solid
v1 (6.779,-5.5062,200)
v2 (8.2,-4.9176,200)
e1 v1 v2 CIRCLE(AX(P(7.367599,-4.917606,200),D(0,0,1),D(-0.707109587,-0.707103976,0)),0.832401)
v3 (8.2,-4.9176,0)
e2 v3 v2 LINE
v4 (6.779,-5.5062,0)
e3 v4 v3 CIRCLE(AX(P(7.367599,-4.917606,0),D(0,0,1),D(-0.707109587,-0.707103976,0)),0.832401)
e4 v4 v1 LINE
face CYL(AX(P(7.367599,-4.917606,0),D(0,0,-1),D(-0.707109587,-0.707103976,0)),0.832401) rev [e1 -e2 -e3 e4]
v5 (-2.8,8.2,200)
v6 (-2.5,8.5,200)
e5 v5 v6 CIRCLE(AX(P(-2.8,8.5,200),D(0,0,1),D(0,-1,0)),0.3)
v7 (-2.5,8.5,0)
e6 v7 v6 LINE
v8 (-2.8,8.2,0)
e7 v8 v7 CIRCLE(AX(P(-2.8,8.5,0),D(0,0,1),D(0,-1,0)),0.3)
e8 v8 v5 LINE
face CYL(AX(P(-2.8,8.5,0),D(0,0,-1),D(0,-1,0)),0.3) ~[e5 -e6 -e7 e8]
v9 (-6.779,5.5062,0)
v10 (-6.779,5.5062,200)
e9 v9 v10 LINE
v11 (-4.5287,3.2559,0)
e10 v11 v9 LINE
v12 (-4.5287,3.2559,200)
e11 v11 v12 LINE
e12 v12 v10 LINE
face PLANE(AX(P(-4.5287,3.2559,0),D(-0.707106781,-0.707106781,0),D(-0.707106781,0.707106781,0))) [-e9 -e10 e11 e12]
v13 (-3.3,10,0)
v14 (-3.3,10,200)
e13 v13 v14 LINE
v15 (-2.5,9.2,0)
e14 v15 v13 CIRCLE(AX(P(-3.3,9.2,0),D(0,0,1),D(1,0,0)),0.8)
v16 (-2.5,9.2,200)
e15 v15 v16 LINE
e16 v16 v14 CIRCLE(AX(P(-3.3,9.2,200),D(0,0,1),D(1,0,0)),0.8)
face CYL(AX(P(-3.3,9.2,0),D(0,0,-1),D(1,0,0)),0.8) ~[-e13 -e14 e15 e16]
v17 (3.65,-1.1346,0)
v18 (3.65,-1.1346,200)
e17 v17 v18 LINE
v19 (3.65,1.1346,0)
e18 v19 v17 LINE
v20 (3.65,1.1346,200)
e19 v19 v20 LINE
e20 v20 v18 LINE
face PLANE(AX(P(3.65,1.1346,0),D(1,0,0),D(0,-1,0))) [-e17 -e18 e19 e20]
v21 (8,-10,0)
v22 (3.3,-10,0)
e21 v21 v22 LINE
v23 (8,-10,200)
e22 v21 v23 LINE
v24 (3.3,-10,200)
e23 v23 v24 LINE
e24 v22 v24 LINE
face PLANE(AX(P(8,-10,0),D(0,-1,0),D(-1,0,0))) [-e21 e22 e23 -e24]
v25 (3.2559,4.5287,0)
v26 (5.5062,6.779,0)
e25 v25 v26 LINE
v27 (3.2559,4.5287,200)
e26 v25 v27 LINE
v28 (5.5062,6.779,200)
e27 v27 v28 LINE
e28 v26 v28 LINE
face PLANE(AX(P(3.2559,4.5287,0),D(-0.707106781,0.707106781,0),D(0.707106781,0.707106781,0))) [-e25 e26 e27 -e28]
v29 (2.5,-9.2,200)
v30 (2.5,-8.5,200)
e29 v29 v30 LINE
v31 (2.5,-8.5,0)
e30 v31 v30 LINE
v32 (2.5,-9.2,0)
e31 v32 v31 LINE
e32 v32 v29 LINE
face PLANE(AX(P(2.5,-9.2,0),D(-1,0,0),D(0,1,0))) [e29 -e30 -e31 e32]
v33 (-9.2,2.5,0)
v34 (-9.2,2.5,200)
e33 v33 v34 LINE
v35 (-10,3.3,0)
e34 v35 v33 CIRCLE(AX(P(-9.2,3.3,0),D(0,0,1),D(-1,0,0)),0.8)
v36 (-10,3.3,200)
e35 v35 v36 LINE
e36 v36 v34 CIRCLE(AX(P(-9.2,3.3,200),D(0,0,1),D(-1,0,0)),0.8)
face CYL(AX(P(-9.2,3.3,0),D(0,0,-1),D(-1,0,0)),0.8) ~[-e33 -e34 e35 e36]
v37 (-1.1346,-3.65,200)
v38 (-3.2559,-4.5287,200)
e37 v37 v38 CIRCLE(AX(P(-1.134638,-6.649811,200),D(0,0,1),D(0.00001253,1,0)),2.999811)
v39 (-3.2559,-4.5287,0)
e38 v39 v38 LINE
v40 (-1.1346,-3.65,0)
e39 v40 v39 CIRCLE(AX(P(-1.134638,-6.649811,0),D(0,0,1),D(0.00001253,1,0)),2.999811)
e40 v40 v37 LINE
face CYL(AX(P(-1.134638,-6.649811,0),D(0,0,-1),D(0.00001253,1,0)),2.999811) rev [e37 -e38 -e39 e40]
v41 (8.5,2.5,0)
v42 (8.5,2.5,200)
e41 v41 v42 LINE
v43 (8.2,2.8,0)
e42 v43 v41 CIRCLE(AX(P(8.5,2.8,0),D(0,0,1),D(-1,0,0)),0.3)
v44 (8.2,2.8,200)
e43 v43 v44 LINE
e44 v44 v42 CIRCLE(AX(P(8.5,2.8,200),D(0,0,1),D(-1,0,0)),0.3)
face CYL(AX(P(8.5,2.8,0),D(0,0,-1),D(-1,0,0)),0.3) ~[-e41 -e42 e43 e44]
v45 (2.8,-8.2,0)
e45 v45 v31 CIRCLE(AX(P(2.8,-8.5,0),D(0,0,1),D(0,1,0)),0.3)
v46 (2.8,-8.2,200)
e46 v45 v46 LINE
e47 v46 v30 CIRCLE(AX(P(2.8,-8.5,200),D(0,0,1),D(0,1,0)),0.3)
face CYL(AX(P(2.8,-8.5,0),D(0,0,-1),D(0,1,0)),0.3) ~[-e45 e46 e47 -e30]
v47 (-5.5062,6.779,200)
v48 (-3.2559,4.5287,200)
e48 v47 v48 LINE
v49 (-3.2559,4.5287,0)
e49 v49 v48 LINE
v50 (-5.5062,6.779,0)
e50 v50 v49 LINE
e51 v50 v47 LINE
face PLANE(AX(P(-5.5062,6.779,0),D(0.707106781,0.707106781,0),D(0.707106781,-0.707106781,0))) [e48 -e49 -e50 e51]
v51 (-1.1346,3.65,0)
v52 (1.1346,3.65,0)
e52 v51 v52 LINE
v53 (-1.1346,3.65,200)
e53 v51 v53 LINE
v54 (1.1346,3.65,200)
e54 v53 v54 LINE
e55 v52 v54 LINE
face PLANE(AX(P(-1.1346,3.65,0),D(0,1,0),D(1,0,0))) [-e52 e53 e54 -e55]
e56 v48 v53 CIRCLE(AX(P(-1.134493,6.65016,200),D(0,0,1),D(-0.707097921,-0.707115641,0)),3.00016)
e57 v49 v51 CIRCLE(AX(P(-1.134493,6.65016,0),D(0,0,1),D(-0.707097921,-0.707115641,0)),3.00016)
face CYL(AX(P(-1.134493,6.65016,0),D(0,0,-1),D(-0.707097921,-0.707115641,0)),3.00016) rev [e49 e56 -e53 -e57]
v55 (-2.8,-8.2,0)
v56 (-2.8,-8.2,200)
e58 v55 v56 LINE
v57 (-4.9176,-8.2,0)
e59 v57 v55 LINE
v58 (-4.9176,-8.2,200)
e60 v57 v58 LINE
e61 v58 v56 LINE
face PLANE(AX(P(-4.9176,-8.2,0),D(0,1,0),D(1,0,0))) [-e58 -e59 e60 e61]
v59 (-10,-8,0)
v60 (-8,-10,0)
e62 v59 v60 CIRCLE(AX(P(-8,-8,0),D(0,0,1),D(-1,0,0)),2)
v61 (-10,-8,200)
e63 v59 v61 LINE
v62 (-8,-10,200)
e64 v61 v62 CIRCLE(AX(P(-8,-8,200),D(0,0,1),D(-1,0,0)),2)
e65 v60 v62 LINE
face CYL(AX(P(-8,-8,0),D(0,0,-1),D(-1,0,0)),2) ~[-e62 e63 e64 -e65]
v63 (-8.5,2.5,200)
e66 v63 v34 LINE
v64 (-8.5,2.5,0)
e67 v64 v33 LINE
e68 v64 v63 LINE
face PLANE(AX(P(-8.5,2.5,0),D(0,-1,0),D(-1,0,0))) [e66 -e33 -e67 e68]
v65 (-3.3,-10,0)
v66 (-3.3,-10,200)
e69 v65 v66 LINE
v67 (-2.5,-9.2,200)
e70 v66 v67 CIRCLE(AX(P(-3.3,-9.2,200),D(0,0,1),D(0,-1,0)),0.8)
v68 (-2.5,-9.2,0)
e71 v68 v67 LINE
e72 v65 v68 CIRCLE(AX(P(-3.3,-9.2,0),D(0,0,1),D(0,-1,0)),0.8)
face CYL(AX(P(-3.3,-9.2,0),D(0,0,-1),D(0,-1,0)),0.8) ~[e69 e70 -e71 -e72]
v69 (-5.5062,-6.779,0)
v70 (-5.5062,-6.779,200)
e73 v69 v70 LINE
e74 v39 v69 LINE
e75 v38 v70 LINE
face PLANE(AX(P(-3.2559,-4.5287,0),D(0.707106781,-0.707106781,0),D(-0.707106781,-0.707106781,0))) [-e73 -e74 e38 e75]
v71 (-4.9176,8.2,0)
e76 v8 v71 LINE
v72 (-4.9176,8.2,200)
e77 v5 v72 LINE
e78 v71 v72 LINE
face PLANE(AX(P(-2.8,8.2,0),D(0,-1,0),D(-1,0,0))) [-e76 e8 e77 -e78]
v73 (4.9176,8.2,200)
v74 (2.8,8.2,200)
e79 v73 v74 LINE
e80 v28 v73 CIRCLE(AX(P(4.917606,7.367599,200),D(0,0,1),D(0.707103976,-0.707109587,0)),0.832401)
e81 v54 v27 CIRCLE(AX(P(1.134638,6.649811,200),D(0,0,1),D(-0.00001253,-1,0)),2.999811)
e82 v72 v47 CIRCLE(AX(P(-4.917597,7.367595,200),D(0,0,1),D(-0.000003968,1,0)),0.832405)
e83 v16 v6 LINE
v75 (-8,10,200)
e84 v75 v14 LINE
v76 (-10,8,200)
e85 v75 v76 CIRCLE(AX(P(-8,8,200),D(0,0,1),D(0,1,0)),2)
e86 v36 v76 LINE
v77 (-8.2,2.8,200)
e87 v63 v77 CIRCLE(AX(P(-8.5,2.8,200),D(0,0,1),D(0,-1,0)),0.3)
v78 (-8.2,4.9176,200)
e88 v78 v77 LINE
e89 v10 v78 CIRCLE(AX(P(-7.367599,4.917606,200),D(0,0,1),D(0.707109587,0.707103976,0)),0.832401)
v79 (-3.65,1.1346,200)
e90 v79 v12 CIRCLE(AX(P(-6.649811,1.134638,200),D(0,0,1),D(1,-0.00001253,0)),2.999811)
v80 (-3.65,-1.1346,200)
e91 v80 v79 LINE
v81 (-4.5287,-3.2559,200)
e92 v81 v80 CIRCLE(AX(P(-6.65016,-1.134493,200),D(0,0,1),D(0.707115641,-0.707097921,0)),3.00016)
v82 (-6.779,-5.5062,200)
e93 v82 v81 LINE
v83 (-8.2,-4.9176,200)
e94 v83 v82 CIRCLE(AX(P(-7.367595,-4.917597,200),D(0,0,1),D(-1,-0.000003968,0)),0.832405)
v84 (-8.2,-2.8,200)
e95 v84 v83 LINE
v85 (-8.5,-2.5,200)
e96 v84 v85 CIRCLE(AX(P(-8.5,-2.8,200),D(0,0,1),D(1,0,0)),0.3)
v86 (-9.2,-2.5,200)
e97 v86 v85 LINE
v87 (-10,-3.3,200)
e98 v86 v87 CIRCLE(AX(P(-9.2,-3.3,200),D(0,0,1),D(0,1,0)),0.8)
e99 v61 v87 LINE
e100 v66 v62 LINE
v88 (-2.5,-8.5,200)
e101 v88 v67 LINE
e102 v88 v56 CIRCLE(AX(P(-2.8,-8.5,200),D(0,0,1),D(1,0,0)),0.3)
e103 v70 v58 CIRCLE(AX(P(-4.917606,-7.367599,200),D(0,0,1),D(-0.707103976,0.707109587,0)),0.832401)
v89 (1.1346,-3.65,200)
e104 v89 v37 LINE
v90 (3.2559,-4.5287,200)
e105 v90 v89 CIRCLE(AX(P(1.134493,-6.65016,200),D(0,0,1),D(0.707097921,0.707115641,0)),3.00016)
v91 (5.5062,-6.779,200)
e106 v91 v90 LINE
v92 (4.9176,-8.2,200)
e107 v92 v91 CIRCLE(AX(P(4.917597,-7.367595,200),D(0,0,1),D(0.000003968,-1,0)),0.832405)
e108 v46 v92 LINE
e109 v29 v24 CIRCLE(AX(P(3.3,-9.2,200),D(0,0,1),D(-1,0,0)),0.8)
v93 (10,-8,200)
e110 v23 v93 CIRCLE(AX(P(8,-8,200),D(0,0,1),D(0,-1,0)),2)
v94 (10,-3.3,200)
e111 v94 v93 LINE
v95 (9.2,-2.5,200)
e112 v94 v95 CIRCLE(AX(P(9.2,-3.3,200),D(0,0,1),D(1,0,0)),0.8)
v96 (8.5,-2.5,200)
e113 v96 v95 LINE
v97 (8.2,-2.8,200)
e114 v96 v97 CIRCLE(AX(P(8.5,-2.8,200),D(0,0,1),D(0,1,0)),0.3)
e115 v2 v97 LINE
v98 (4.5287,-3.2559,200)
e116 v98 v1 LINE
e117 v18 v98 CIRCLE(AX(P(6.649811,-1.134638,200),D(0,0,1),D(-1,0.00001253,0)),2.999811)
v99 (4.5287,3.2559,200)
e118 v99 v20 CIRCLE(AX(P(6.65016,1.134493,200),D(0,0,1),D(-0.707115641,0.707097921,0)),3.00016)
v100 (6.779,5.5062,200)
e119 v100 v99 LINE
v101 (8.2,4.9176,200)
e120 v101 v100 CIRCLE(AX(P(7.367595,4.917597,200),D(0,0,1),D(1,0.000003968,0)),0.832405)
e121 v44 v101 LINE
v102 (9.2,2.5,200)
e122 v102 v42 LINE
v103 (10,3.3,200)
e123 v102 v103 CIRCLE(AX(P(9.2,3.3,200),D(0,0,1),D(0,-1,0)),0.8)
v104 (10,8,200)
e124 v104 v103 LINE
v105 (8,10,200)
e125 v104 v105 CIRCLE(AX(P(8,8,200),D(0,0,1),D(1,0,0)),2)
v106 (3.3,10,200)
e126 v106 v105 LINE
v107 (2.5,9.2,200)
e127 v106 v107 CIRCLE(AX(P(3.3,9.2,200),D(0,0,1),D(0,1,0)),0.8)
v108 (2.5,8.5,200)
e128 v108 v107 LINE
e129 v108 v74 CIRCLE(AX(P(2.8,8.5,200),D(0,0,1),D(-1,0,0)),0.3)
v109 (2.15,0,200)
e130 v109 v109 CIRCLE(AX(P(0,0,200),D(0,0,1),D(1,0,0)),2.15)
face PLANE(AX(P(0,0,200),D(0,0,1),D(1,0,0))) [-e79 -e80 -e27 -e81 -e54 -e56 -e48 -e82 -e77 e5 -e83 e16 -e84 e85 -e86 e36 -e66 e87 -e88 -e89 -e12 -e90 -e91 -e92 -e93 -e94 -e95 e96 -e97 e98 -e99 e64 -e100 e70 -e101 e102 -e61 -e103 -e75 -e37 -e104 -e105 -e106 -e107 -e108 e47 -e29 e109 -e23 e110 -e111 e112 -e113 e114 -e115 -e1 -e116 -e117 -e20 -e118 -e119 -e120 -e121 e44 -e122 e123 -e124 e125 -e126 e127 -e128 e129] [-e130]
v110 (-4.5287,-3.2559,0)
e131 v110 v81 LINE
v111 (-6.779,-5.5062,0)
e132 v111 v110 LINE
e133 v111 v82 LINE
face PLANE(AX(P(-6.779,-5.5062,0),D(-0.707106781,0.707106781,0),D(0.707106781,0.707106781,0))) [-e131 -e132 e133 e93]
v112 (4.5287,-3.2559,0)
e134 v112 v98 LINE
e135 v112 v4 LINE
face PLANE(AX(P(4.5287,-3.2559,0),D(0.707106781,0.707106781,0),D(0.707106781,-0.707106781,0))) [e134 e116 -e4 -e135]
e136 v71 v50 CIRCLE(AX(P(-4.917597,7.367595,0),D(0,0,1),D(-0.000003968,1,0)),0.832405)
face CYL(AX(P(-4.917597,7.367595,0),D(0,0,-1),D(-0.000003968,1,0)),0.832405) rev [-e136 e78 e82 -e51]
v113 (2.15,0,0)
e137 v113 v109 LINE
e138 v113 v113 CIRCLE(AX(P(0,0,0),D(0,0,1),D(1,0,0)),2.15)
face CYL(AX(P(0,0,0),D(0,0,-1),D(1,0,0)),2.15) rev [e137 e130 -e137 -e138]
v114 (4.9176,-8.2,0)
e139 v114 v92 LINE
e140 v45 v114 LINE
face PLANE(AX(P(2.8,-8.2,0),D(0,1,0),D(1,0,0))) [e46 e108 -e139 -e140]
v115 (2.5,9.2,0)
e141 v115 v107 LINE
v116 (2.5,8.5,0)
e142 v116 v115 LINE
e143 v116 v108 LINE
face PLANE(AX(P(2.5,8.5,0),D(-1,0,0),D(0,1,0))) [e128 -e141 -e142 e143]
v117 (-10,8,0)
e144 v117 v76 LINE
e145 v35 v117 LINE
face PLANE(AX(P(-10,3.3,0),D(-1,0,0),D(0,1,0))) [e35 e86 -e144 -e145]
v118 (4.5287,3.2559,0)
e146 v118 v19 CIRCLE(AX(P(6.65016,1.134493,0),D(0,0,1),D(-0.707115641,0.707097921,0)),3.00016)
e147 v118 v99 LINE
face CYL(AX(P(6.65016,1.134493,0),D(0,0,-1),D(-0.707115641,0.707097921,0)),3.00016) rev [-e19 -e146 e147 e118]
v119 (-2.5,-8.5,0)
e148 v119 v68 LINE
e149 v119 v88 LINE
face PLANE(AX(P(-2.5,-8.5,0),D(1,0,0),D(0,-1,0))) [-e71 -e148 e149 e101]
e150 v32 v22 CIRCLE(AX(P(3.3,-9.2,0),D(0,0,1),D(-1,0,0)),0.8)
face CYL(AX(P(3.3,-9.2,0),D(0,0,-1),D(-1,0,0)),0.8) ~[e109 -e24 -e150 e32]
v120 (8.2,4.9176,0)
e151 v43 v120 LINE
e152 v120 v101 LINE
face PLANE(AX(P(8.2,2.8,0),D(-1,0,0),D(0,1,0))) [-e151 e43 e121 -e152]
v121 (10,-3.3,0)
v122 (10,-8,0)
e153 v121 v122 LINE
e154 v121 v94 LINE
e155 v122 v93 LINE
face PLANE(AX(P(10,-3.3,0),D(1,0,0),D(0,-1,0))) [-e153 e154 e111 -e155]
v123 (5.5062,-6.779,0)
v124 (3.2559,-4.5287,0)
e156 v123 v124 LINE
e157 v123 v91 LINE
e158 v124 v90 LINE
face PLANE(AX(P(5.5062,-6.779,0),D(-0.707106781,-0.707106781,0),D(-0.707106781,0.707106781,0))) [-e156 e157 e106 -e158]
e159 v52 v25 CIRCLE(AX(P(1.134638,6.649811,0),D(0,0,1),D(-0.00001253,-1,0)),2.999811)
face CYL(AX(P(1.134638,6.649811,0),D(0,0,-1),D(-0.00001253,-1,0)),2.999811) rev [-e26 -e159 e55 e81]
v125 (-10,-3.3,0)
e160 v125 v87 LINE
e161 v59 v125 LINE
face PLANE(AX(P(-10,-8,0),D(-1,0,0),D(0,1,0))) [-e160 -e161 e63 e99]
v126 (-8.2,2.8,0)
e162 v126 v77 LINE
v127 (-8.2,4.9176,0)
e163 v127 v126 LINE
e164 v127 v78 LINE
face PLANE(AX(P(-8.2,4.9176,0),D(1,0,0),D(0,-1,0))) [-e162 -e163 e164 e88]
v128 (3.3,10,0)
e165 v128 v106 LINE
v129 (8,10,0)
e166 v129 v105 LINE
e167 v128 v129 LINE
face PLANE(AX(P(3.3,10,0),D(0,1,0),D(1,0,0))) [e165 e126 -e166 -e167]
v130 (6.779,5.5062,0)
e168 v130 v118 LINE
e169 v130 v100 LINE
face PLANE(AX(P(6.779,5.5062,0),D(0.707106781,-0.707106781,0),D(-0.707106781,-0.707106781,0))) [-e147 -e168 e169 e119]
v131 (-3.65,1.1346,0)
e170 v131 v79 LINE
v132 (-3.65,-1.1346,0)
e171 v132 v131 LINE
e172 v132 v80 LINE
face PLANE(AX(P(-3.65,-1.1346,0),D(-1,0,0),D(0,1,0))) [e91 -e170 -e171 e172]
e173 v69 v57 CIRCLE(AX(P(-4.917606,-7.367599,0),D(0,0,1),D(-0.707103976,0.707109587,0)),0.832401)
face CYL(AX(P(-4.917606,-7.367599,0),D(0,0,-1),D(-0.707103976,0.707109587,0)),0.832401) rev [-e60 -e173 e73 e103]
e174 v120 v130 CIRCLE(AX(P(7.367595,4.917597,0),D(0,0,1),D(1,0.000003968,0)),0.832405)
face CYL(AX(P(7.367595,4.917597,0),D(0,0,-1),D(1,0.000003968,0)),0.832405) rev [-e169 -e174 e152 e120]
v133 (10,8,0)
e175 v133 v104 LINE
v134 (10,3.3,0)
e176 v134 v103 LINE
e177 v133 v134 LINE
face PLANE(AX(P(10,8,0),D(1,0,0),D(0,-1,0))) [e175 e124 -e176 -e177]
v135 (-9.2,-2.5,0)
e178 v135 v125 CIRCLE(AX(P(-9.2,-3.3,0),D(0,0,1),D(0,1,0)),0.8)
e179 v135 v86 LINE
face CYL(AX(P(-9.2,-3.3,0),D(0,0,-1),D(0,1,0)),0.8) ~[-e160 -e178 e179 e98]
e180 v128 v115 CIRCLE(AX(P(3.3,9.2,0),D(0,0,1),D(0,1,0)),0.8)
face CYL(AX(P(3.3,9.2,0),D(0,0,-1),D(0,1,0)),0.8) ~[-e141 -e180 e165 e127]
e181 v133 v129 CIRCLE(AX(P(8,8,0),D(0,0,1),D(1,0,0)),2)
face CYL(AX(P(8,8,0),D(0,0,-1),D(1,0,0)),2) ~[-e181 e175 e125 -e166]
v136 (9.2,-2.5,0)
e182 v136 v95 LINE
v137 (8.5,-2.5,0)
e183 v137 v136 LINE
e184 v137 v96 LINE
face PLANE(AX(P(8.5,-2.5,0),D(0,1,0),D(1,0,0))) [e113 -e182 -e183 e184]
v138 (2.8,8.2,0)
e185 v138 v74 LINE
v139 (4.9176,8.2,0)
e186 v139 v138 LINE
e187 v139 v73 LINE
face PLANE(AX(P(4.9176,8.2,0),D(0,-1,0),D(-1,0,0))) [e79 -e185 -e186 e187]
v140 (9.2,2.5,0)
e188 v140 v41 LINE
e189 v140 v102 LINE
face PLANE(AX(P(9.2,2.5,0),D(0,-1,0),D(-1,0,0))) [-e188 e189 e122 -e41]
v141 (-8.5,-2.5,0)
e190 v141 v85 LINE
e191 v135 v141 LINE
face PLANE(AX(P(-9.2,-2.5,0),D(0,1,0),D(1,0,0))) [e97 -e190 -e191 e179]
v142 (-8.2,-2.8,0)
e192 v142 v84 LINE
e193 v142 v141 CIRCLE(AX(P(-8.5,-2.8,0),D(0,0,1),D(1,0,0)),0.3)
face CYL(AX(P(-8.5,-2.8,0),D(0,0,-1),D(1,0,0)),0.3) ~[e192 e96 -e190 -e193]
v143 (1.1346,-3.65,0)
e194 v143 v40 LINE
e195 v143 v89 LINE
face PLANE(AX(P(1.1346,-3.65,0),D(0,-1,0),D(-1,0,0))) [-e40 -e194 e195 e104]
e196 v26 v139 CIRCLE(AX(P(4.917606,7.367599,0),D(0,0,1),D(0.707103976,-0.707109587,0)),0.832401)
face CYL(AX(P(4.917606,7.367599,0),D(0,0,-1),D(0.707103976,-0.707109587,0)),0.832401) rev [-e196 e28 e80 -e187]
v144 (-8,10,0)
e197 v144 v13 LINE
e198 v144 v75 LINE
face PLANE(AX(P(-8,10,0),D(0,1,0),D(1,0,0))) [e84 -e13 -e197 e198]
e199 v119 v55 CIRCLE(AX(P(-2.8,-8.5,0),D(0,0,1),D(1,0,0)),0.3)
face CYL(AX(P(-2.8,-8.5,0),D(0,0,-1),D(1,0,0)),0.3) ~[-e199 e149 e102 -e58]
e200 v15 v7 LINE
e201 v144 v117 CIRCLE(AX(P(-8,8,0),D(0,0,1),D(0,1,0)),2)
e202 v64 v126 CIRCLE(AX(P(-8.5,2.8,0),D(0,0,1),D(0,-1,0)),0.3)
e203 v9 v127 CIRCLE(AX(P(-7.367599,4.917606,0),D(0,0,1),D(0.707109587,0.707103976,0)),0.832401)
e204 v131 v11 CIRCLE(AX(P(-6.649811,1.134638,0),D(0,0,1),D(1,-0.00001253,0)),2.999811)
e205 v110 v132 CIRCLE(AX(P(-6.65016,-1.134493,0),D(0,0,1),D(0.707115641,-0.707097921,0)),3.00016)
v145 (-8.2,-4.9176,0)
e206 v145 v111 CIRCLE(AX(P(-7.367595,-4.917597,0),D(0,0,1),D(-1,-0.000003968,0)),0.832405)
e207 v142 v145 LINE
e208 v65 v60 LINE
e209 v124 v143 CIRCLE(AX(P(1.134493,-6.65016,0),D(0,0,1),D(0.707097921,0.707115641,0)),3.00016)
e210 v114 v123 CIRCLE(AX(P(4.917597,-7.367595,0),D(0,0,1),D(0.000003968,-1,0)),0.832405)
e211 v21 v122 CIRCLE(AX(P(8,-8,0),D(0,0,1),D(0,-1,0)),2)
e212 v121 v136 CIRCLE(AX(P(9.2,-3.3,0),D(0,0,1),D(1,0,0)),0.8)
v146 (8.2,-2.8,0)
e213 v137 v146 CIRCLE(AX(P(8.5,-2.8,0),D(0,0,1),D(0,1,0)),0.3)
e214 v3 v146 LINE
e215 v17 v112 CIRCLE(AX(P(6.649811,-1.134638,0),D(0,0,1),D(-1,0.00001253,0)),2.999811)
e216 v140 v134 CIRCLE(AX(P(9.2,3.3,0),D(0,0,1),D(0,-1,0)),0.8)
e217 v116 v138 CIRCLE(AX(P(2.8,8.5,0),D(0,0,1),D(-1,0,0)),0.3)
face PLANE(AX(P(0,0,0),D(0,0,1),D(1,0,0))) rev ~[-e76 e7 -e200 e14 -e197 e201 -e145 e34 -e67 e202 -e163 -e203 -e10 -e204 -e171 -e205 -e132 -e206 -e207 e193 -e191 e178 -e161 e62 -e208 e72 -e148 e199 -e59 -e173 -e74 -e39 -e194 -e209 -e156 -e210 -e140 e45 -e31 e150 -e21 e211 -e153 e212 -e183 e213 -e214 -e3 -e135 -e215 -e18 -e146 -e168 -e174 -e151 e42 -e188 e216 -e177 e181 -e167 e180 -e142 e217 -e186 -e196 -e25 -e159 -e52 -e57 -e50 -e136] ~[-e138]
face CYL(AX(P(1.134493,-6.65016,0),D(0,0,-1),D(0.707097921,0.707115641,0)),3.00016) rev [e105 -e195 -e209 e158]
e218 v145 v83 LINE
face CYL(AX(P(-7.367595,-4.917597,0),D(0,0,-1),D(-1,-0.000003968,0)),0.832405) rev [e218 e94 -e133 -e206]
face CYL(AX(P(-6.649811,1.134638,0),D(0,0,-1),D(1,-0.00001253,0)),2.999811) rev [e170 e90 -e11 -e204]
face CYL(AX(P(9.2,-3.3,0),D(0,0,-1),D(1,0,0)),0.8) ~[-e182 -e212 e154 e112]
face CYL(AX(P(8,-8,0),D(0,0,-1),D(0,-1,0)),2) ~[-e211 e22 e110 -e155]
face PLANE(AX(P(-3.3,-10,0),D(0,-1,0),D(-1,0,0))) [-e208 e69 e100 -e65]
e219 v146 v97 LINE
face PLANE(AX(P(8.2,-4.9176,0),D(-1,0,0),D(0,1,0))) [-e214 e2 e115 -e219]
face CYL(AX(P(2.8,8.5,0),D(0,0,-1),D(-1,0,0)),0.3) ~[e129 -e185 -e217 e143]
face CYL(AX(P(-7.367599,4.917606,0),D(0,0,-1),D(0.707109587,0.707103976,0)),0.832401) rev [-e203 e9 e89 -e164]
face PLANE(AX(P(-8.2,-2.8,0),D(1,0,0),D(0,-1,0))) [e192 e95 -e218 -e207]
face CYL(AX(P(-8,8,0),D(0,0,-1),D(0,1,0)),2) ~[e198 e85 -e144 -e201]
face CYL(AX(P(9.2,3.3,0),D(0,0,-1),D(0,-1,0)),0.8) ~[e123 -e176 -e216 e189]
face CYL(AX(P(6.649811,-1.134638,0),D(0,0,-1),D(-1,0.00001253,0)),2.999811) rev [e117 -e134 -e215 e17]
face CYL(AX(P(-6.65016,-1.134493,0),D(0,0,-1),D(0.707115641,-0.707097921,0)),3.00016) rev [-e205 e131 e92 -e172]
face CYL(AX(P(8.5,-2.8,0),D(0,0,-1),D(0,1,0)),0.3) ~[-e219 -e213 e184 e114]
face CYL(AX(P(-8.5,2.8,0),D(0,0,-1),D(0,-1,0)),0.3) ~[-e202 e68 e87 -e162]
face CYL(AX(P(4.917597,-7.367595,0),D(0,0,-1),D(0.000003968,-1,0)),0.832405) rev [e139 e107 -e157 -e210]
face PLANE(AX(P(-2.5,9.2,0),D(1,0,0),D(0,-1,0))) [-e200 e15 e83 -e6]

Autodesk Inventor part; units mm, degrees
ref_plane "YZ Plane" through (0, 0, 0) normal (1, 0, 0) x (0, 1, 0)
ref_plane "Startebene" through (0, 0, 0) normal (0, 0, 1) x (1, 0, 0)
ref_plane "Endebene" through (0, 0, 200) normal (0, 0, 1) x (1, 0, 0)
sketch "Skizze" plane through (0, 0, 0) normal (0, 0, 1) x (1, 0, 0)
  arc A0 (-4.5287, -3.2559) -> (-3.65, -1.1346) centre (-6.65, -1.1346) ccw
  line L0 (-3.65, -1.1346) -> (-3.65, 1.1346)
  circle A1 centre (0, 0) radius 2.15
  line L1 (1.1346, -3.65) -> (-1.1346, -3.65)
  arc A2 (-1.1346, -3.65) -> (-3.2559, -4.5287) centre (-1.1346, -6.65) ccw
  line L2 (-6.779, -5.5062) -> (-4.5287, -3.2559)
  line L3 (-3.2559, -4.5287) -> (-5.5062, -6.779)
  arc A3 (-2.5, -8.5) -> (-2.8, -8.2) centre (-2.8, -8.5) ccw
  line L4 (-2.5, -8.5) -> (-2.5, -9.2)
  line L5 (-4.9176, -8.2) -> (-2.8, -8.2)
  arc A4 (-5.5062, -6.779) -> (-4.9176, -8.2) centre (-4.9176, -7.3676) ccw
  arc A5 (-3.3, -10) -> (-2.5, -9.2) centre (-3.3, -9.2) ccw
  line L6 (-3.3, -10) -> (-8, -10)
  line L7 (10, -3.3) -> (10, -8)
  line L8 (5.5062, -6.779) -> (3.2559, -4.5287)
  arc A6 (6.779, -5.5062) -> (8.2, -4.9176) centre (7.3676, -4.9176) ccw
  arc A7 (3.2559, -4.5287) -> (1.1346, -3.65) centre (1.1346, -6.65) ccw
  line L9 (4.5287, -3.2559) -> (6.779, -5.5062)
  arc A8 (3.65, -1.1346) -> (4.5287, -3.2559) centre (6.65, -1.1346) ccw
  arc A9 (8.5, -2.5) -> (8.2, -2.8) centre (8.5, -2.8) ccw
  line L10 (3.65, 1.1346) -> (3.65, -1.1346)
  line L11 (8.5, -2.5) -> (9.2, -2.5)
  arc A10 (10, -3.3) -> (9.2, -2.5) centre (9.2, -3.3) ccw
  line L12 (8.2, -4.9176) -> (8.2, -2.8)
  line L13 (2.5, 8.5) -> (2.5, 9.2)
  arc A11 (2.5, 8.5) -> (2.8, 8.2) centre (2.8, 8.5) ccw
  arc A12 (1.1346, 3.65) -> (3.2559, 4.5287) centre (1.1346, 6.65) ccw
  line L14 (-1.1346, 3.65) -> (1.1346, 3.65)
  arc A13 (3.3, 10) -> (2.5, 9.2) centre (3.3, 9.2) ccw
  line L15 (4.9176, 8.2) -> (2.8, 8.2)
  arc A14 (4.5287, 3.2559) -> (3.65, 1.1346) centre (6.65, 1.1346) ccw
  line L16 (3.2559, 4.5287) -> (5.5062, 6.779)
  arc A15 (5.5062, 6.779) -> (4.9176, 8.2) centre (4.9176, 7.3676) ccw
  line L17 (6.779, 5.5062) -> (4.5287, 3.2559)
  line L18 (3.3, 10) -> (8, 10)
  arc A16 (10, 8) -> (8, 10) centre (8, 8) ccw
  line L19 (8.2, 2.8) -> (8.2, 4.9176)
  line L20 (10, 8) -> (10, 3.3)
  arc A17 (8.2, 4.9176) -> (6.779, 5.5062) centre (7.3676, 4.9176) ccw
  line L21 (-2.8, 8.2) -> (-4.9176, 8.2)
  line L22 (-2.5, 9.2) -> (-2.5, 8.5)
  arc A18 (-2.5, 9.2) -> (-3.3, 10) centre (-3.3, 9.2) ccw
  arc A19 (-2.8, 8.2) -> (-2.5, 8.5) centre (-2.8, 8.5) ccw
  arc A20 (-3.65, 1.1346) -> (-4.5287, 3.2559) centre (-6.65, 1.1346) ccw
  arc A21 (-3.2559, 4.5287) -> (-1.1346, 3.65) centre (-1.1346, 6.65) ccw
  arc A22 (4.9176, -8.2) -> (5.5062, -6.779) centre (4.9176, -7.3676) ccw
  arc A23 (8, -10) -> (10, -8) centre (8, -8) ccw
  line L23 (2.8, -8.2) -> (4.9176, -8.2)
  line L24 (8, -10) -> (3.3, -10)
  arc A24 (2.8, -8.2) -> (2.5, -8.5) centre (2.8, -8.5) ccw
  arc A25 (2.5, -9.2) -> (3.3, -10) centre (3.3, -9.2) ccw
  line L25 (2.5, -9.2) -> (2.5, -8.5)
  arc A26 (8.2, 2.8) -> (8.5, 2.5) centre (8.5, 2.8) ccw
  line L26 (9.2, 2.5) -> (8.5, 2.5)
  arc A27 (9.2, 2.5) -> (10, 3.3) centre (9.2, 3.3) ccw
  arc A28 (-4.9176, 8.2) -> (-5.5062, 6.779) centre (-4.9176, 7.3676) ccw
  line L27 (-8, 10) -> (-3.3, 10)
  line L28 (-5.5062, 6.779) -> (-3.2559, 4.5287)
  arc A29 (-8, 10) -> (-10, 8) centre (-8, 8) ccw
  arc A30 (-6.779, 5.5062) -> (-8.2, 4.9176) centre (-7.3676, 4.9176) ccw
  line L29 (-10, 3.3) -> (-10, 8)
  line L30 (-8.2, 4.9176) -> (-8.2, 2.8)
  arc A31 (-8.5, 2.5) -> (-8.2, 2.8) centre (-8.5, 2.8) ccw
  line L31 (-8.5, 2.5) -> (-9.2, 2.5)
  arc A32 (-10, 3.3) -> (-9.2, 2.5) centre (-9.2, 3.3) ccw
  line L32 (-4.5287, 3.2559) -> (-6.779, 5.5062)
  line L33 (-10, -8) -> (-10, -3.3)
  arc A33 (-8.2, -4.9176) -> (-6.779, -5.5062) centre (-7.3676, -4.9176) ccw
  arc A34 (-10, -8) -> (-8, -10) centre (-8, -8) ccw
  line L34 (-10, -8) -> (-10, -3.3)
  arc A35 (-8.2, -2.8) -> (-8.5, -2.5) centre (-8.5, -2.8) ccw
  line L35 (-9.2, -2.5) -> (-8.5, -2.5)
  arc A36 (-9.2, -2.5) -> (-10, -3.3) centre (-9.2, -3.3) ccw
  line L36 (-8.2, -2.8) -> (-8.2, -4.9176)
  dimension "d4" = 4.3
  dimension "d5" = 6.35
  dimension "d6" = 10
  dimension "d7" = 2.5
  dimension "d8" = 5.8
  dimension "d9" = 10.5
  dimension "d10" = 3
  dimension "d11" = 7.5
  dimension "d12" = 12.5
  dimension "d13" = 13.65
  dimension "d14" = 5.7
  dimension "d15" = 10.7
  dimension "d16" = 1.15
  dimension "d17" = 6.15
  dimension "d18" = 1.8
  dimension "d19" = 0.8
  dimension "d20" = 0.3
  dimension "d21" = 2
  dimension "d22" = 0.8324
  dimension "d23" = 45
  dimension "d24" = 90
  dimension "d25" = 90
  dimension "d26" = 1.8
  dimension "d27" = 18.2
  dimension "d28" = 20
  dimension "d29" = 5
  dimension "d30" = 7.5
  dimension "d31" = 1.8
  dimension "d32" = 0.9
  dimension "d33" = 0.9
  dimension "d34" = 20
extrude "Körper" add sketch "Skizze" along normal up to surface (200 mm away) from surface at 0
sketch "Skizze6" plane through (0, 0, 0) normal (0, 0, 1) x (1, 0, 0)
  line L0 (0, 0) -> (10, 0)
ref_plane "Arbeitsebene4" through (0, 0, 0) normal (0, -1, 0) x (1, 0, 0)
sketch "Skizze7" plane through (0, 0, 0) normal (0, -1, 0) x (1, 0, 0)
  line L0 (-2, 0) -> (12, 0)
  line L1 (-2, 200) -> (12, 200)
  dimension "d43" = 200
equation "\"G_OFFSET_START\" = 0"
equation "\"G_OFFSET_END\" = 0"
equation "\"G_L\" = d43"
properties part number "BT001_trajan20_22"
